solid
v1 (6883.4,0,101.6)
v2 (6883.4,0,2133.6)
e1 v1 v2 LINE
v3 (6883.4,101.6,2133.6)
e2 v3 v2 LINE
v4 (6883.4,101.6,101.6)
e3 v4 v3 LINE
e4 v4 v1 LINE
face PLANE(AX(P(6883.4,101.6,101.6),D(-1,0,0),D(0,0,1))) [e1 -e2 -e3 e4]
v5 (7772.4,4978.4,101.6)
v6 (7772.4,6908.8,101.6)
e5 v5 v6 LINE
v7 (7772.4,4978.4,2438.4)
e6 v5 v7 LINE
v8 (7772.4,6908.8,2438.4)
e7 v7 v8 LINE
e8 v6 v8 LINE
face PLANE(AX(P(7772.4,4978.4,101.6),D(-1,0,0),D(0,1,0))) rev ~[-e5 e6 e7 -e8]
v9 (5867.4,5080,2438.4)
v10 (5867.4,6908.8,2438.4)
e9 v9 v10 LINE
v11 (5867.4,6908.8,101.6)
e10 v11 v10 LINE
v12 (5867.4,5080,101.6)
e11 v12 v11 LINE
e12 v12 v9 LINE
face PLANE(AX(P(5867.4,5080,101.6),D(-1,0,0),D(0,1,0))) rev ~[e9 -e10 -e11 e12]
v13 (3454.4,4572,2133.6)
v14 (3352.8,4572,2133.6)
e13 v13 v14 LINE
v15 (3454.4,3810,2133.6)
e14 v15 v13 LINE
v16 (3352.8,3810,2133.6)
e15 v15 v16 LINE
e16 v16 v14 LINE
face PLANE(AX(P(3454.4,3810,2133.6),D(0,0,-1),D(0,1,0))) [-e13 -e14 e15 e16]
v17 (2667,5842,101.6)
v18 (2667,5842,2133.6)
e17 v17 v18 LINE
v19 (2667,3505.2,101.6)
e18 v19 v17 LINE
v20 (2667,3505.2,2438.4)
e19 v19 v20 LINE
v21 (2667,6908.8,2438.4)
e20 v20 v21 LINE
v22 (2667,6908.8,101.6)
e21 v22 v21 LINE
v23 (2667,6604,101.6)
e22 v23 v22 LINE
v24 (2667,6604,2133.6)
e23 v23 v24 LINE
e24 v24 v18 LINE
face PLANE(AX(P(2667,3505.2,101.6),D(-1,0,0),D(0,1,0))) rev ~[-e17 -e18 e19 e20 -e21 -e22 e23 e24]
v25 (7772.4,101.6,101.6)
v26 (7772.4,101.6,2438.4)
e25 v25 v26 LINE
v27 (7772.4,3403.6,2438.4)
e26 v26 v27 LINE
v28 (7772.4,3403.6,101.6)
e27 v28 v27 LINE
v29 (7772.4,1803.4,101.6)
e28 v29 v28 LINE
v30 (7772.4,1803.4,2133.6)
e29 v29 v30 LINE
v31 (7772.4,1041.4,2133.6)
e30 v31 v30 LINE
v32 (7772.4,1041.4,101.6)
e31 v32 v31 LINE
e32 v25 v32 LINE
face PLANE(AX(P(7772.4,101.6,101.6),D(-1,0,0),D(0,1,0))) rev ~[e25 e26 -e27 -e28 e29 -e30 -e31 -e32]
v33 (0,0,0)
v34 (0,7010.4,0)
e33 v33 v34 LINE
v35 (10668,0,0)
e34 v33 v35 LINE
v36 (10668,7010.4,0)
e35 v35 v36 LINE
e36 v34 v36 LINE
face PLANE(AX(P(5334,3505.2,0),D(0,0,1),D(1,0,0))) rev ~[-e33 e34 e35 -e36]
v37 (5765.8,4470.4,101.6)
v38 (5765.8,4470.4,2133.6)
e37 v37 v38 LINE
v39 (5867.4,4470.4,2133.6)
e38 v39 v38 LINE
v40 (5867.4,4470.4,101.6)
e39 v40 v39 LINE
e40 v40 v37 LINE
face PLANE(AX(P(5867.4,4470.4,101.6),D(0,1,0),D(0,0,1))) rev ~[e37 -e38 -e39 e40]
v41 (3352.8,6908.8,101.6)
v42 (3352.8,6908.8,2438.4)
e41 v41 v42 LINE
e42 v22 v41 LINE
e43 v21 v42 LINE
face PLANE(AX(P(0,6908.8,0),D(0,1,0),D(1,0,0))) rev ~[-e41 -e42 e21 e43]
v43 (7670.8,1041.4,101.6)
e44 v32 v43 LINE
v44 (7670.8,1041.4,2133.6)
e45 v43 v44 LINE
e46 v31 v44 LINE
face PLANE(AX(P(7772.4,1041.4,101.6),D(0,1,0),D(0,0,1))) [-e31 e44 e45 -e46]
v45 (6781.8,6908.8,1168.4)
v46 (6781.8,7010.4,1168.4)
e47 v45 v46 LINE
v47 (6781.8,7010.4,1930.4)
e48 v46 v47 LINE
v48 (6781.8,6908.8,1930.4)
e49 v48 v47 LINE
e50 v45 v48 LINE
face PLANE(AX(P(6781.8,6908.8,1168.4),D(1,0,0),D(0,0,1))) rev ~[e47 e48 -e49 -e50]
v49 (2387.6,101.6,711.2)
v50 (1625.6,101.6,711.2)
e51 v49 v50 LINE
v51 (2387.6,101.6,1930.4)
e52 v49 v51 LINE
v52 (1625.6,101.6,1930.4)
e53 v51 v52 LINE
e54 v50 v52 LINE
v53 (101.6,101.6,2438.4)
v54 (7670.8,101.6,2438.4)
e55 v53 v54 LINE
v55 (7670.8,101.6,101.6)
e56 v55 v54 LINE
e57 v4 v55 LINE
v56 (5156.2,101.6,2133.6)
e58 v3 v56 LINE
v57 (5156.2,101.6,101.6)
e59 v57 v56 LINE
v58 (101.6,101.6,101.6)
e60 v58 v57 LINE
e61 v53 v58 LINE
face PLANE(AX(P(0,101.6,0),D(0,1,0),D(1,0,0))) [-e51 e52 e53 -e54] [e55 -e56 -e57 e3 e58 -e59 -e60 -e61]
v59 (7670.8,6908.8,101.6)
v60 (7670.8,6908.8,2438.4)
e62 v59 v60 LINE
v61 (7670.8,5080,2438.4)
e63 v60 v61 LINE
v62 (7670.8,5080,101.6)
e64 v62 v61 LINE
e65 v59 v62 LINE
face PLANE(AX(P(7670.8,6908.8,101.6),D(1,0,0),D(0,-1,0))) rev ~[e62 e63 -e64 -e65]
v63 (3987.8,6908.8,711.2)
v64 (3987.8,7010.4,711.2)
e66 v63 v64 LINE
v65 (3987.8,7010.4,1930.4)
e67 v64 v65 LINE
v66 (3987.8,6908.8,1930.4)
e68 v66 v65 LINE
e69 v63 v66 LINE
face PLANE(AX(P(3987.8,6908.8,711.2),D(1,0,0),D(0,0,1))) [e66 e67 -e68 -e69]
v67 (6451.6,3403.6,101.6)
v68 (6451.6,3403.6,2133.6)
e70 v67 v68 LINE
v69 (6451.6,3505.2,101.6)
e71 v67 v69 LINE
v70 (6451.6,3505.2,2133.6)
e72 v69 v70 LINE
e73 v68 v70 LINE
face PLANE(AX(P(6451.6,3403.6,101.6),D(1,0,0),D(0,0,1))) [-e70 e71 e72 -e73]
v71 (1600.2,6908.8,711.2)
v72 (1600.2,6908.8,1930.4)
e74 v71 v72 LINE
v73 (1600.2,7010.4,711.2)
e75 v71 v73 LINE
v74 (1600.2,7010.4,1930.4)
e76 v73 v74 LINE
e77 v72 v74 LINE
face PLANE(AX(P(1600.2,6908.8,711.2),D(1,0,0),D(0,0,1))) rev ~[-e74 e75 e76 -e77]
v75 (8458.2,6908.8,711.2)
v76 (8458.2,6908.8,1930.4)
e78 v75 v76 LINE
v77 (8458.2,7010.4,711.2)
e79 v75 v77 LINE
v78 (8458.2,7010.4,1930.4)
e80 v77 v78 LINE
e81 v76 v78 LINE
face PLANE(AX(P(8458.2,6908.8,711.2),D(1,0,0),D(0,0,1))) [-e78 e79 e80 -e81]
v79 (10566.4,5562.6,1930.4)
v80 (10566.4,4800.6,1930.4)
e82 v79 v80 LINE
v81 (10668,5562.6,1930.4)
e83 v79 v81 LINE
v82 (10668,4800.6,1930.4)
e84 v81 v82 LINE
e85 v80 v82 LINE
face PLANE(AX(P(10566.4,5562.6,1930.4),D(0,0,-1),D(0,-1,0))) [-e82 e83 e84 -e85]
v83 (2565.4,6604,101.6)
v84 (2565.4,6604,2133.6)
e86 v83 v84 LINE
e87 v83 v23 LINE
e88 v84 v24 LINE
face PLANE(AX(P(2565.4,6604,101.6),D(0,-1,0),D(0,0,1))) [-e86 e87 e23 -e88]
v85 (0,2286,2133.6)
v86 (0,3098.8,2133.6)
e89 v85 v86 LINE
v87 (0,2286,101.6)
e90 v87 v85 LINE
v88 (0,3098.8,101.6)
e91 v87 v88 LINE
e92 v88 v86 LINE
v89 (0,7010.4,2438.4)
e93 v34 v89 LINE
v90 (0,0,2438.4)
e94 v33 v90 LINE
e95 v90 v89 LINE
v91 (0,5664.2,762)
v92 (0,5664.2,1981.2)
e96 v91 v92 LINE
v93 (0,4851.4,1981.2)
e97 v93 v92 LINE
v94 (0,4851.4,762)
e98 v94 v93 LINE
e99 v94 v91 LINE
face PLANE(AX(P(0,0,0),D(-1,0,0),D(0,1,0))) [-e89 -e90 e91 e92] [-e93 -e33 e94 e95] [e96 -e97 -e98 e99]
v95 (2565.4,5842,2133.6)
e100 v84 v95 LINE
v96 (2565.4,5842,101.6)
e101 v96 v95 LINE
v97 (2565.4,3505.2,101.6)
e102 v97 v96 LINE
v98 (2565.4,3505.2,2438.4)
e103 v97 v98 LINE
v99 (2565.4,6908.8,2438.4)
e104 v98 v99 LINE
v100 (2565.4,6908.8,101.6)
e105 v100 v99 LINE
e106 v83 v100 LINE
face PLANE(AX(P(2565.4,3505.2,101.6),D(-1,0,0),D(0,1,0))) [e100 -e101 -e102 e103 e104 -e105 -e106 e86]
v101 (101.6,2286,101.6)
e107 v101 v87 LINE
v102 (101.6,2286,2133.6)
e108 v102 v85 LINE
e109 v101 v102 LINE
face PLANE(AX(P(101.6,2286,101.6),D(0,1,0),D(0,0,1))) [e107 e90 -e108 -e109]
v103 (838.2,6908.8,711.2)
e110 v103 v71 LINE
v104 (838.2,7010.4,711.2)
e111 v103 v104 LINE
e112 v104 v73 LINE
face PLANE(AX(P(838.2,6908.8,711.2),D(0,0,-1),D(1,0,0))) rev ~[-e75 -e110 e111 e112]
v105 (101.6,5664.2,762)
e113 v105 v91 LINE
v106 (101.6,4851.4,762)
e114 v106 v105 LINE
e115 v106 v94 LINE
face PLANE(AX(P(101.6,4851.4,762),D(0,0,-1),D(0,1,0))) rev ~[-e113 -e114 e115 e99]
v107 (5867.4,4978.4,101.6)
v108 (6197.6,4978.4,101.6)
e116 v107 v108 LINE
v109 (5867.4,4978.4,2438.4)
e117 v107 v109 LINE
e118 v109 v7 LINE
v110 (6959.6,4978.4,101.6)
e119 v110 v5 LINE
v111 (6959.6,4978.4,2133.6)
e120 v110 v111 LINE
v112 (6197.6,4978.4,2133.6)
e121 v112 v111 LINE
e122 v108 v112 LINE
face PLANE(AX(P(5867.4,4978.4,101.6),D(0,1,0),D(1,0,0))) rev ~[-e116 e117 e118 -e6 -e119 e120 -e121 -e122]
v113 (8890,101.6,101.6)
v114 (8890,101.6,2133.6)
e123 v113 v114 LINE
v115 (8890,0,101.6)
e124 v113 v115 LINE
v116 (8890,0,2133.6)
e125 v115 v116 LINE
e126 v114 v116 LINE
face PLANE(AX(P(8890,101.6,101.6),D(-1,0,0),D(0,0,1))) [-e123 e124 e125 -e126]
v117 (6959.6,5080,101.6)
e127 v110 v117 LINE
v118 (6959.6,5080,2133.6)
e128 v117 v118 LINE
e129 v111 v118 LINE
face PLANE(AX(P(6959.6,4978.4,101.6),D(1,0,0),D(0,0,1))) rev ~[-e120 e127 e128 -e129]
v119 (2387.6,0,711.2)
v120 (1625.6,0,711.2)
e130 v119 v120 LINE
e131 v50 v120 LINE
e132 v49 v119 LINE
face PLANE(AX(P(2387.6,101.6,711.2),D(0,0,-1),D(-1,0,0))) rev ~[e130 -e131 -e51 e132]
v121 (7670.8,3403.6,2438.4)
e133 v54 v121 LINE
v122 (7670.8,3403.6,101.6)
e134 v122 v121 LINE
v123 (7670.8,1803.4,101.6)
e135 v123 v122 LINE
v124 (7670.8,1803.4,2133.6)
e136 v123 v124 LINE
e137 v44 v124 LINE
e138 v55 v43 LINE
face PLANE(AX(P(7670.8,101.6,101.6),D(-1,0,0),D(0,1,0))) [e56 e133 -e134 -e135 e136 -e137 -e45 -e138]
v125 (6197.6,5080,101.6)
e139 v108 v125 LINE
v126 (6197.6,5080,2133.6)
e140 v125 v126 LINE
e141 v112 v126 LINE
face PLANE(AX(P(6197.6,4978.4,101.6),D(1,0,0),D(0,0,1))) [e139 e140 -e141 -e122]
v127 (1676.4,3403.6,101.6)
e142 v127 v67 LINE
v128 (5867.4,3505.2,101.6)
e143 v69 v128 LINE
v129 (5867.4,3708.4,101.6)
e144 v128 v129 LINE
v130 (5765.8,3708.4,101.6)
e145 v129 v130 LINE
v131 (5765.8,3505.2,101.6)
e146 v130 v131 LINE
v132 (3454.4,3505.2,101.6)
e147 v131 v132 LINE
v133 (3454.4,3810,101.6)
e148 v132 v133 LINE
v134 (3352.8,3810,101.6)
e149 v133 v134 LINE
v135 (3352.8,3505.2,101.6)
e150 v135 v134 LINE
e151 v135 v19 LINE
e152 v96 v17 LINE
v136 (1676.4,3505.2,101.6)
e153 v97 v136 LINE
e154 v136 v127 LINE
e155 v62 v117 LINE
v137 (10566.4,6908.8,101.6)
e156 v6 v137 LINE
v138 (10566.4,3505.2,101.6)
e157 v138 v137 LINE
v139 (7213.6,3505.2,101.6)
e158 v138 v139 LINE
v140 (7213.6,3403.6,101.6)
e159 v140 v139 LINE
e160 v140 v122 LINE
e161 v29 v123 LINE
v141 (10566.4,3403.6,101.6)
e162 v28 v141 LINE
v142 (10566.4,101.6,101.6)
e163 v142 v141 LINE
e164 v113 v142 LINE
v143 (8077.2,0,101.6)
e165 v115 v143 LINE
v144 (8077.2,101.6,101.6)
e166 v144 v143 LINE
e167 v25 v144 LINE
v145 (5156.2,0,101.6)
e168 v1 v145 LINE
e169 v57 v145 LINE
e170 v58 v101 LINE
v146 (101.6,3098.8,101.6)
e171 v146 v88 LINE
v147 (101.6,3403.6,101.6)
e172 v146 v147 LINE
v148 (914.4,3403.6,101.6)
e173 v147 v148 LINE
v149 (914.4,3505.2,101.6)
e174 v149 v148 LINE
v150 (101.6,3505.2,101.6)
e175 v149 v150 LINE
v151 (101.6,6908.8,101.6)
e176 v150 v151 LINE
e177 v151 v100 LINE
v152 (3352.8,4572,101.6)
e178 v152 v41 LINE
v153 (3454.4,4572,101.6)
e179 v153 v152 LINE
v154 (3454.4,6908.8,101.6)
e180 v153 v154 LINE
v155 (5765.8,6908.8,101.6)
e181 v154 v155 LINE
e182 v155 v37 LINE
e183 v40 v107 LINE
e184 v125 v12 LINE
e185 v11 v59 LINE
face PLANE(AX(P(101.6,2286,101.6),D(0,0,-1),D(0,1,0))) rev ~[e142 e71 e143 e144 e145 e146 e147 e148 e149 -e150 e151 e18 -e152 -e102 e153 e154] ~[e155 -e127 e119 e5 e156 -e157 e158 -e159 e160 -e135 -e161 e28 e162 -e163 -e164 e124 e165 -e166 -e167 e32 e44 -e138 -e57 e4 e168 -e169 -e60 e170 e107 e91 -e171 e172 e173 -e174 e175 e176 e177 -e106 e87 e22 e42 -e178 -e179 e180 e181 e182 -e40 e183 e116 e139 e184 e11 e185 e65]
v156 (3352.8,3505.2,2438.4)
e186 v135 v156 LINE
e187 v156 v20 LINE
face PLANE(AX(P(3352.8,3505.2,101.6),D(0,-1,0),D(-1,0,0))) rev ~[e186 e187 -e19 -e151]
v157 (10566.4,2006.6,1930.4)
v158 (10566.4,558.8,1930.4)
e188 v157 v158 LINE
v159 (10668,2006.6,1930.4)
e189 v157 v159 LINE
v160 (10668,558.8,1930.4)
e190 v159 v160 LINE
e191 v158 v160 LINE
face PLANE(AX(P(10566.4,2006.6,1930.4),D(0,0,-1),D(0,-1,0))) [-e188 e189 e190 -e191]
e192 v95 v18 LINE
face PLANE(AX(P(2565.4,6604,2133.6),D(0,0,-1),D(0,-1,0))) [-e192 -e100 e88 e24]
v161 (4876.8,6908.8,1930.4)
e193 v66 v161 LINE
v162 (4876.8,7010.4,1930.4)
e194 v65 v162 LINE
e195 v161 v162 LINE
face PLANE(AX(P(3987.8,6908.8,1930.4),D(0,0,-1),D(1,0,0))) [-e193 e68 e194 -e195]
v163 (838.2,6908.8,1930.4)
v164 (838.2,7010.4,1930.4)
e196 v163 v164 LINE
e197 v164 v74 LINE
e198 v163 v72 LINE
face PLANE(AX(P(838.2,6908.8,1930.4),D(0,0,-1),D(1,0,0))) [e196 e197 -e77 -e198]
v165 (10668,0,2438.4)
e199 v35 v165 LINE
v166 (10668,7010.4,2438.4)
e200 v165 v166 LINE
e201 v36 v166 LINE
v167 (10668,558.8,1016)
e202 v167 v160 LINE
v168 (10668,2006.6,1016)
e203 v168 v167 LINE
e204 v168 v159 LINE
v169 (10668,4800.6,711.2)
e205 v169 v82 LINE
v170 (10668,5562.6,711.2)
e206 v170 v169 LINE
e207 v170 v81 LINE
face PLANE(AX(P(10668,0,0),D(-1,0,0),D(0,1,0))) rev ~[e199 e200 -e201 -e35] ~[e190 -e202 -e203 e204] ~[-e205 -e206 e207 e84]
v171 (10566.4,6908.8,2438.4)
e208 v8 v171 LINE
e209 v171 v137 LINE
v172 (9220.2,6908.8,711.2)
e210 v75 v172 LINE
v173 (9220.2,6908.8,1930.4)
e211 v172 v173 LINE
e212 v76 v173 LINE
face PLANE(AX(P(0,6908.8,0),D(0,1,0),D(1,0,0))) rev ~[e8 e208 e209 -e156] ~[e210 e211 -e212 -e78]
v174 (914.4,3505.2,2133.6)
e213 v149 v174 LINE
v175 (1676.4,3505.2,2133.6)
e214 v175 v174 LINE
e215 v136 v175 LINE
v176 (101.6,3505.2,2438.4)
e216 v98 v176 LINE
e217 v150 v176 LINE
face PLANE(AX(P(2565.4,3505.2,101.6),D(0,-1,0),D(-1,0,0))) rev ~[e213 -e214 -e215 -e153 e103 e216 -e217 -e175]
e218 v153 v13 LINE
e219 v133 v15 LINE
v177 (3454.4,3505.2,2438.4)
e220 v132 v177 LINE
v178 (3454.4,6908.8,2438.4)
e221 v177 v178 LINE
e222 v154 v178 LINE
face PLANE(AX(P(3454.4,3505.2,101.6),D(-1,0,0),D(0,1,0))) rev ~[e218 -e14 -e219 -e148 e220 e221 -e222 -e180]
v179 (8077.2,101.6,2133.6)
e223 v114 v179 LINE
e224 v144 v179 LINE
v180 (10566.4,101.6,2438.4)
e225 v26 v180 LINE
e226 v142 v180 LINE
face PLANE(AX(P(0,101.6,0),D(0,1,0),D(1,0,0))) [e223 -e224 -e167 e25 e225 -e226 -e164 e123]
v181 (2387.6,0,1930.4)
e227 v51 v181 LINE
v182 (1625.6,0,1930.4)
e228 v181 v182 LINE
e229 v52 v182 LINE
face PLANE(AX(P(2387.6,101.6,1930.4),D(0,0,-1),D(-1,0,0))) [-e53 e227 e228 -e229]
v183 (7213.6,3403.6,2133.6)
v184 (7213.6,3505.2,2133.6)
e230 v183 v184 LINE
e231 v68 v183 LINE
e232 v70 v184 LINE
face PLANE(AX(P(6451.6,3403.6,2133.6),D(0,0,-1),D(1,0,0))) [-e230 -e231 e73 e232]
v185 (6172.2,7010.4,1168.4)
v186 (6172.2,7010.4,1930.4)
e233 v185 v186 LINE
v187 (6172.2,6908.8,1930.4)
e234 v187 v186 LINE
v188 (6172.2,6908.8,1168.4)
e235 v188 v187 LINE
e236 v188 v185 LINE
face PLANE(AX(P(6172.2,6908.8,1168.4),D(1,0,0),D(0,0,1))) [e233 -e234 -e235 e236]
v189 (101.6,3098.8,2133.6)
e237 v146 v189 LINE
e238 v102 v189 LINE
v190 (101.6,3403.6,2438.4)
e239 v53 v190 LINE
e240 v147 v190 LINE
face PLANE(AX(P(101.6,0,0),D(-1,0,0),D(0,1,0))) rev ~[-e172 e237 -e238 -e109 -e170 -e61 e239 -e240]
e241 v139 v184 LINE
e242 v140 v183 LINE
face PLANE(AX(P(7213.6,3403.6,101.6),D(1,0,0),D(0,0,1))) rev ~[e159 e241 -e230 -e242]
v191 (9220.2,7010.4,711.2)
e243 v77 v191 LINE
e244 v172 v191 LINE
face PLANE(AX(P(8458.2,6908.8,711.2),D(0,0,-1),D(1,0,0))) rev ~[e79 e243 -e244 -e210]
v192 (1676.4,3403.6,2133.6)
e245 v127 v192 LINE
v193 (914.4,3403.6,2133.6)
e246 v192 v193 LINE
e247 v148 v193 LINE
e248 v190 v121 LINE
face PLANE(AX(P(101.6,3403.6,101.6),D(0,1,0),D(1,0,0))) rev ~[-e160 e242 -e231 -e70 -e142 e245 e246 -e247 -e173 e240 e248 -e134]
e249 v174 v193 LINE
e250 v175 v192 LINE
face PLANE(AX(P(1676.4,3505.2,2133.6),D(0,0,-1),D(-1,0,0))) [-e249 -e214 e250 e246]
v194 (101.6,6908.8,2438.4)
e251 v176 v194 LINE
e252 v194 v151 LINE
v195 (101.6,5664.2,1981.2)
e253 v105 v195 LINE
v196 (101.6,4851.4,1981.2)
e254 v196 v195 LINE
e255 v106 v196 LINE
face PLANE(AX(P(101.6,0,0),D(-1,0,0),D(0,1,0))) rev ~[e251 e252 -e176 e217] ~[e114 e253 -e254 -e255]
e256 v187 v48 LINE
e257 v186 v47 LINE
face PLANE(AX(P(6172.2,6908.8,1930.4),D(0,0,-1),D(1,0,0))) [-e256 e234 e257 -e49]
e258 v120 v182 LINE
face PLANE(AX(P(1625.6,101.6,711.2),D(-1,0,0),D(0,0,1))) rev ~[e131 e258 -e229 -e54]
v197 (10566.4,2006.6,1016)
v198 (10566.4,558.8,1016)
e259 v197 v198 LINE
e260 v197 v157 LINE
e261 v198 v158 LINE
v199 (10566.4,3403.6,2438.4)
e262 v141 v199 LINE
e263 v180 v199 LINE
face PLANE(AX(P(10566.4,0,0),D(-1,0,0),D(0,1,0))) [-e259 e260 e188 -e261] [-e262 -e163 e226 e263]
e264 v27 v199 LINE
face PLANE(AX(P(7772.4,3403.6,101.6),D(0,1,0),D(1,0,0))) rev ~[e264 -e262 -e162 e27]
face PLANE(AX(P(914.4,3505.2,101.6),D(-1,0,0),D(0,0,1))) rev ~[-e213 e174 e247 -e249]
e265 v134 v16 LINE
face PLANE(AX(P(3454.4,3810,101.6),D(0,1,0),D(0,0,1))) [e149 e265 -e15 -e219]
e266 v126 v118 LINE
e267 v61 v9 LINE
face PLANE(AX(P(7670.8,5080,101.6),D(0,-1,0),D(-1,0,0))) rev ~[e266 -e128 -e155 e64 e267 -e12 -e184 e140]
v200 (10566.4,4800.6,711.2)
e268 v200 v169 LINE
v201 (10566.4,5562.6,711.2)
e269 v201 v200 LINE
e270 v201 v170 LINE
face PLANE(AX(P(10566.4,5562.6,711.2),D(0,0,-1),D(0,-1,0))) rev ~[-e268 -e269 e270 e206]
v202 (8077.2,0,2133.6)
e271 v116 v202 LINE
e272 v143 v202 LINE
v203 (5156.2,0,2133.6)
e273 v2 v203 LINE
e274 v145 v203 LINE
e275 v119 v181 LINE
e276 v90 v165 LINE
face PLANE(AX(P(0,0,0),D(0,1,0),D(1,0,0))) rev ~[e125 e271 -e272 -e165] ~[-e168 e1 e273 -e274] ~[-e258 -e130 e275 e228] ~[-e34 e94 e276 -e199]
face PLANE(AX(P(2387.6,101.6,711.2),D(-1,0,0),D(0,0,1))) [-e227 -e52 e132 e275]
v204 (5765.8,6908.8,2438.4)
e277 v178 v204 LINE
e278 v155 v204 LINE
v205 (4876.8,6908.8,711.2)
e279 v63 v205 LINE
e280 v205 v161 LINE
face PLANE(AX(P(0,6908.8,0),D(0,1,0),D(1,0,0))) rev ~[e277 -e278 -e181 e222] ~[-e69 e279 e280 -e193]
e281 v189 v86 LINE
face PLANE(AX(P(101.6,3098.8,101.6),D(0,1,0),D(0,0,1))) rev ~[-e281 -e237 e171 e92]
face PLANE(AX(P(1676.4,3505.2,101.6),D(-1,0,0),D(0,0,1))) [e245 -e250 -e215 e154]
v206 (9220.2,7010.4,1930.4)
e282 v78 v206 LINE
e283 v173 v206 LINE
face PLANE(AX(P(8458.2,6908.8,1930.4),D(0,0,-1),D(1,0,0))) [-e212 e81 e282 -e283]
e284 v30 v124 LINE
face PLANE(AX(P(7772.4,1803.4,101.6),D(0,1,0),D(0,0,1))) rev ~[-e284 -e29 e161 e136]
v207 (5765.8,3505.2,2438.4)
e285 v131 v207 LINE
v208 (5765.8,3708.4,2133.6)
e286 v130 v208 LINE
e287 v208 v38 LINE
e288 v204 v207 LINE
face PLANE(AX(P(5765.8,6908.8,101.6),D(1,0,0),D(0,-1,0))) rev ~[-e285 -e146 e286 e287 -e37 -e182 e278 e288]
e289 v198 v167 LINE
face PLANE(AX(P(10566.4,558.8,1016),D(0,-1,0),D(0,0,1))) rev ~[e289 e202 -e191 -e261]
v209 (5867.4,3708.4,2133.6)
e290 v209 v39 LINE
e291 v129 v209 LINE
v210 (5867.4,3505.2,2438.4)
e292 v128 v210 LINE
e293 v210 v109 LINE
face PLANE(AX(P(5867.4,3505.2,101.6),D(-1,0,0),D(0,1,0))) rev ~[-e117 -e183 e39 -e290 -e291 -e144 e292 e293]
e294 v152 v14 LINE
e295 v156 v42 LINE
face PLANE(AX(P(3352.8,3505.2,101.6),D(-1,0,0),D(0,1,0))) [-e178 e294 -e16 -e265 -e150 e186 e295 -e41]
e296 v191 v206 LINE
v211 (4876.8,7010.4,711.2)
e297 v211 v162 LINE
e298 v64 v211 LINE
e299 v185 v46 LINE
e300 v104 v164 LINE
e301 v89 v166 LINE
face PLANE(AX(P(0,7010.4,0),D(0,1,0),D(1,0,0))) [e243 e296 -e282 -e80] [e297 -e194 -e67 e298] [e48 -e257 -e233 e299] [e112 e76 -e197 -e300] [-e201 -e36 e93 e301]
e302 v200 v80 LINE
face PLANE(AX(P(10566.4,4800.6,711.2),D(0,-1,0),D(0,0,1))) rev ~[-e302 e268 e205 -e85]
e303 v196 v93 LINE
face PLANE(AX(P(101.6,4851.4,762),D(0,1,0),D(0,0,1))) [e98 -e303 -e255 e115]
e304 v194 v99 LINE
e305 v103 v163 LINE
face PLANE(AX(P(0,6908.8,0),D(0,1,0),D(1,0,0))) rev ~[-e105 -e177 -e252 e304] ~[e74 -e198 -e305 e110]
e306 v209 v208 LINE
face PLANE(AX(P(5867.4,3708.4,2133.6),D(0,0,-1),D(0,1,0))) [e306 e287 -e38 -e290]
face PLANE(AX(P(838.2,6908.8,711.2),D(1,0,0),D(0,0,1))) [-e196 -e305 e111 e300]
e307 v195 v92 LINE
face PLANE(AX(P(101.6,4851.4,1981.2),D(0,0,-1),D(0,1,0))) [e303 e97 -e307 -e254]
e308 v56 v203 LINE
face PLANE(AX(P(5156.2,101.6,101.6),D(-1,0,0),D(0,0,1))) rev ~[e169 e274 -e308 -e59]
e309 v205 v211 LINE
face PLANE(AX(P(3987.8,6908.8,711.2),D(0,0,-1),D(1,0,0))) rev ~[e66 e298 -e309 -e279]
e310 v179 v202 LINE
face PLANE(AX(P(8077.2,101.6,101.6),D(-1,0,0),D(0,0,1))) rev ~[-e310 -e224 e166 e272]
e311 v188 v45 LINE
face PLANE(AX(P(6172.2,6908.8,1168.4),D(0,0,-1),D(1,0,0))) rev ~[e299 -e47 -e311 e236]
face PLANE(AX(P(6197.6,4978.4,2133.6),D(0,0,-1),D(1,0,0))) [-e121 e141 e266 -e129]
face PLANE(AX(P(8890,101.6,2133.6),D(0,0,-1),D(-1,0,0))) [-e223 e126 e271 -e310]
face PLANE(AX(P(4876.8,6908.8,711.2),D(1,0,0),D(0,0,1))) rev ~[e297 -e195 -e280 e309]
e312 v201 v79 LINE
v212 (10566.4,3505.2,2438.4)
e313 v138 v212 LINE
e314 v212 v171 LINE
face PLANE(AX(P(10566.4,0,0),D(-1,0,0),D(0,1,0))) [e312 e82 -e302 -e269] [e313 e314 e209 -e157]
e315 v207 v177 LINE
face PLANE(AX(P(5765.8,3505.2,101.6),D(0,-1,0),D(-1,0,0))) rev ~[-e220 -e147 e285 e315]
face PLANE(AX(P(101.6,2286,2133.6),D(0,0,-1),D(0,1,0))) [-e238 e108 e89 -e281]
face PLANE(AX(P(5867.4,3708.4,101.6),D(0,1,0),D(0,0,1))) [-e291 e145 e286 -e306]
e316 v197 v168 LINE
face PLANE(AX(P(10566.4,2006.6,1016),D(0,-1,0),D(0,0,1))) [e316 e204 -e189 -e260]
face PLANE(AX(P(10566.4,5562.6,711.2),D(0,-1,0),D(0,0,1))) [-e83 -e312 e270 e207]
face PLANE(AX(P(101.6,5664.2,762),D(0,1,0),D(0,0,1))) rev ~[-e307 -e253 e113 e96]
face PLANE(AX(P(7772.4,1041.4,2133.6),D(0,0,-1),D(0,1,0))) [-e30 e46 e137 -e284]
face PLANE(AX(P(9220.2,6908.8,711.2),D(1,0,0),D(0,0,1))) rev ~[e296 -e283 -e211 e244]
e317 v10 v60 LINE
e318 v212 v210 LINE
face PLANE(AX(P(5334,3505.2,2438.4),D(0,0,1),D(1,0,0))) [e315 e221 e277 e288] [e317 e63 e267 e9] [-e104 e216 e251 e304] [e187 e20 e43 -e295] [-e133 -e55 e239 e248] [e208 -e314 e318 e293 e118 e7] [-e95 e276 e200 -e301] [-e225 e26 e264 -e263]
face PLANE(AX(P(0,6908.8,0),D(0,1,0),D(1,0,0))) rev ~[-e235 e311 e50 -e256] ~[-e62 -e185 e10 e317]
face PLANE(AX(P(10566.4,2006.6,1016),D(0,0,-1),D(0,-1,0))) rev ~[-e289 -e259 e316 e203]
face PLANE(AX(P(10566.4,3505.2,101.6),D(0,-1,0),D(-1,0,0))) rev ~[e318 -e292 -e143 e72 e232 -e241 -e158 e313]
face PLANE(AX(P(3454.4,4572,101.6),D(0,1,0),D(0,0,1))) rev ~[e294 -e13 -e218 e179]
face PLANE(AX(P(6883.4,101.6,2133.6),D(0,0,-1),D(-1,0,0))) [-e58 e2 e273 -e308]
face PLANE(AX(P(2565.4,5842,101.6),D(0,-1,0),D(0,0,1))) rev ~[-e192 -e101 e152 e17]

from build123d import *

# Parameters (mm, degrees)
F34_W     = 10668
F34_H     = 7010.4
F0_DEPTH  = 2438.4
F35_T     = -101.6
F1_W      = 101.6
F1_H      = 3403.6
F1_H_2    = 3302
F2_DEPTH  = 2336.8
F36_W     = 762
F36_H     = 2032
F3_DEPTH  = 101.6
F37_W     = 812.8
F37_H     = 2032
F38_DEPTH = 101.6
F39_W     = 812.8
F39_H     = 2032
F4_DEPTH  = 101.6
F5_W      = 812.8
F5_H      = 1219.2
F6_DEPTH  = 101.6
F7_W      = 762
F7_H      = 1219.2
F40_DEPTH = 101.6
F8_W      = 762
F8_H      = 2032
F9_DEPTH  = 101.6
F10_W     = 762
F10_H     = 2032
F11_DEPTH = 101.6
F12_W     = 762
F12_H     = 2032
F13_DEPTH = 101.6
F14_W     = 762
F14_H     = 2032
F15_DEPTH = 101.6
F16_W     = 889
F16_H     = 1219.2
F17_DEPTH = 101.6
F18_W     = 609.6
F18_H     = 762
F19_DEPTH = 101.6
F20_W     = 1447.8
F20_H     = 914.4
F21_DEPTH = 101.6
F22_W     = 762
F22_H     = 1219.2
F23_DEPTH = 101.6
F24_W     = 762
F24_H     = 1219.2
F25_DEPTH = 101.6
F26_W     = 762
F26_H     = 1219.2
F27_DEPTH = 101.6
F28_W     = 1727.2
F28_H     = 2032
F29_DEPTH = 101.6
F30_W     = 762
F30_H     = 2032
F31_DEPTH = 101.6
F32_W     = 762
F32_H     = 2032
F33_DEPTH = 101.6


with BuildPart() as f0:
    # F34 (on Top) → F0 (new body)
    with BuildSketch(Plane.XY):
        with Locations((5334, 3505.2)):
            Rectangle(F34_W, F34_H)
    extrude(amount=F0_DEPTH)

    # F35
    f35_openings = [f0.faces().sort_by_distance(p)[0] for p in [
        (5334, 3505.2, 2438.4),
    ]]
    offset(amount=F35_T, openings=f35_openings)

    # F1 (on face) → F2 (join, through all)
    with BuildSketch(Plane.XY.offset(101.6)):
        with Locations((2616.2, 5207)):
            Rectangle(F1_W, F1_H)
        Polygon((7772.4, 3403.6), (10566.4, 3403.6), (10566.4, 3505.2), (5867.4, 3505.2), (5765.8, 3505.2), (3454.4, 3505.2), (3352.8, 3505.2), (2667, 3505.2), (2565.4, 3505.2), (101.6, 3505.2), (101.6, 3403.6), (7670.8, 3403.6), align=None)
        with Locations((3403.6, 5207)):
            Rectangle(F1_W, F1_H)
        Polygon((5765.8, 3505.2), (5867.4, 3505.2), (5867.4, 4978.4), (5867.4, 5080), (5867.4, 6908.8), (5765.8, 6908.8), align=None)
        Polygon((5867.4, 5080), (5867.4, 4978.4), (7772.4, 4978.4), (7772.4, 6908.8), (7670.8, 6908.8), (7670.8, 5080), align=None)
        with Locations((7721.6, 1752.6)):
            Rectangle(F1_W, F1_H_2)
    extrude(amount=F2_DEPTH)

    # F36 (on face) → F3 (cut, through all)
    with BuildSketch(Plane(origin=(0, 3505.2, 0), x_dir=(-1, 0, 0), z_dir=(0, 1, 0))):
        with Locations((-1295.4, 1117.6)):
            Rectangle(F36_W, F36_H)
    extrude(amount=-F3_DEPTH, mode=Mode.SUBTRACT)

    # F37 (on face) → F38 (cut, through all)
    with BuildSketch(Plane(origin=(0, 101.6, 0), x_dir=(-1, 0, 0), z_dir=(0, 1, 0))):
        with Locations((-8483.6, 1117.6)):
            Rectangle(F37_W, F37_H)
    extrude(amount=-F38_DEPTH, mode=Mode.SUBTRACT)

    # F39 (on face) → F4 (cut, through all)
    with BuildSketch(Plane.YZ.offset(101.6)):
        with Locations((2692.4, 1117.6)):
            Rectangle(F39_W, F39_H)
    extrude(amount=-F4_DEPTH, mode=Mode.SUBTRACT)

    # F5 (on face) → F6 (cut, through all)
    with BuildSketch(Plane.YZ.offset(101.6)):
        with Locations((5257.8, 1371.6)):
            Rectangle(F5_W, F5_H)
    extrude(amount=-F6_DEPTH, mode=Mode.SUBTRACT)

    # F7 (on face) → F40 (cut, through all)
    with BuildSketch(Plane.XZ.offset(-6908.8)):
        with Locations((1219.2, 1320.8)):
            Rectangle(F7_W, F7_H)
    extrude(amount=-F40_DEPTH, mode=Mode.SUBTRACT)

    # F8 (on face) → F9 (cut, through all)
    with BuildSketch(Plane.YZ.offset(7772.4)):
        with Locations((1422.4, 1117.6)):
            Rectangle(F8_W, F8_H)
    extrude(amount=-F9_DEPTH, mode=Mode.SUBTRACT)

    # F10 (on face) → F11 (cut, through all)
    with BuildSketch(Plane.XZ.offset(-3403.6)):
        with Locations((6832.6, 1117.6)):
            Rectangle(F10_W, F10_H)
    extrude(amount=-F11_DEPTH, mode=Mode.SUBTRACT)

    # F12 (on face) → F13 (cut, through all)
    with BuildSketch(Plane.XZ.offset(-4978.4)):
        with Locations((6578.6, 1117.6)):
            Rectangle(F12_W, F12_H)
    extrude(amount=-F13_DEPTH, mode=Mode.SUBTRACT)

    # F14 (on face) → F15 (cut, through all)
    with BuildSketch(Plane.YZ.offset(5867.4)):
        with Locations((4089.4, 1117.6)):
            Rectangle(F14_W, F14_H)
    extrude(amount=-F15_DEPTH, mode=Mode.SUBTRACT)

    # F16 (on face) → F17 (cut, through all)
    with BuildSketch(Plane.XZ.offset(-6908.8)):
        with Locations((4432.3, 1320.8)):
            Rectangle(F16_W, F16_H)
    extrude(amount=-F17_DEPTH, mode=Mode.SUBTRACT)

    # F18 (on face) → F19 (cut, through all)
    with BuildSketch(Plane.XZ.offset(-6908.8)):
        with Locations((6477, 1549.4)):
            Rectangle(F18_W, F18_H)
    extrude(amount=-F19_DEPTH, mode=Mode.SUBTRACT)

    # F20 (on face) → F21 (cut, through all)
    with BuildSketch(Plane(origin=(10566.4, 0, 0), x_dir=(0, -1, 0), z_dir=(-1, 0, 0))):
        with Locations((-1282.7, 1473.2)):
            Rectangle(F20_W, F20_H)
    extrude(amount=-F21_DEPTH, mode=Mode.SUBTRACT)

    # F22 (on face) → F23 (cut, through all)
    with BuildSketch(Plane.XZ.offset(-6908.8)):
        with Locations((8839.2, 1320.8)):
            Rectangle(F22_W, F22_H)
    extrude(amount=-F23_DEPTH, mode=Mode.SUBTRACT)

    # F24 (on face) → F25 (cut, through all)
    with BuildSketch(Plane(origin=(10566.4, 0, 0), x_dir=(0, -1, 0), z_dir=(-1, 0, 0))):
        with Locations((-5181.6, 1320.8)):
            Rectangle(F24_W, F24_H)
    extrude(amount=-F25_DEPTH, mode=Mode.SUBTRACT)

    # F26 (on face) → F27 (cut, through all)
    with BuildSketch(Plane(origin=(0, 101.6, 0), x_dir=(-1, 0, 0), z_dir=(0, 1, 0))):
        with Locations((-2006.6, 1320.8)):
            Rectangle(F26_W, F26_H)
    extrude(amount=-F27_DEPTH, mode=Mode.SUBTRACT)

    # F28 (on face) → F29 (cut, through all)
    with BuildSketch(Plane(origin=(0, 101.6, 0), x_dir=(-1, 0, 0), z_dir=(0, 1, 0))):
        with Locations((-6019.8, 1117.6)):
            Rectangle(F28_W, F28_H)
    extrude(amount=-F29_DEPTH, mode=Mode.SUBTRACT)

    # F30 (on face) → F31 (cut, through all)
    with BuildSketch(Plane(origin=(2565.4, 0, 0), x_dir=(0, -1, 0), z_dir=(-1, 0, 0))):
        with Locations((-6223, 1117.6)):
            Rectangle(F30_W, F30_H)
    extrude(amount=-F31_DEPTH, mode=Mode.SUBTRACT)

    # F32 (on face) → F33 (cut, through all)
    with BuildSketch(Plane.YZ.offset(3454.4)):
        with Locations((4191, 1117.6)):
            Rectangle(F32_W, F32_H)
    extrude(amount=-F33_DEPTH, mode=Mode.SUBTRACT)


solid = f0.part
